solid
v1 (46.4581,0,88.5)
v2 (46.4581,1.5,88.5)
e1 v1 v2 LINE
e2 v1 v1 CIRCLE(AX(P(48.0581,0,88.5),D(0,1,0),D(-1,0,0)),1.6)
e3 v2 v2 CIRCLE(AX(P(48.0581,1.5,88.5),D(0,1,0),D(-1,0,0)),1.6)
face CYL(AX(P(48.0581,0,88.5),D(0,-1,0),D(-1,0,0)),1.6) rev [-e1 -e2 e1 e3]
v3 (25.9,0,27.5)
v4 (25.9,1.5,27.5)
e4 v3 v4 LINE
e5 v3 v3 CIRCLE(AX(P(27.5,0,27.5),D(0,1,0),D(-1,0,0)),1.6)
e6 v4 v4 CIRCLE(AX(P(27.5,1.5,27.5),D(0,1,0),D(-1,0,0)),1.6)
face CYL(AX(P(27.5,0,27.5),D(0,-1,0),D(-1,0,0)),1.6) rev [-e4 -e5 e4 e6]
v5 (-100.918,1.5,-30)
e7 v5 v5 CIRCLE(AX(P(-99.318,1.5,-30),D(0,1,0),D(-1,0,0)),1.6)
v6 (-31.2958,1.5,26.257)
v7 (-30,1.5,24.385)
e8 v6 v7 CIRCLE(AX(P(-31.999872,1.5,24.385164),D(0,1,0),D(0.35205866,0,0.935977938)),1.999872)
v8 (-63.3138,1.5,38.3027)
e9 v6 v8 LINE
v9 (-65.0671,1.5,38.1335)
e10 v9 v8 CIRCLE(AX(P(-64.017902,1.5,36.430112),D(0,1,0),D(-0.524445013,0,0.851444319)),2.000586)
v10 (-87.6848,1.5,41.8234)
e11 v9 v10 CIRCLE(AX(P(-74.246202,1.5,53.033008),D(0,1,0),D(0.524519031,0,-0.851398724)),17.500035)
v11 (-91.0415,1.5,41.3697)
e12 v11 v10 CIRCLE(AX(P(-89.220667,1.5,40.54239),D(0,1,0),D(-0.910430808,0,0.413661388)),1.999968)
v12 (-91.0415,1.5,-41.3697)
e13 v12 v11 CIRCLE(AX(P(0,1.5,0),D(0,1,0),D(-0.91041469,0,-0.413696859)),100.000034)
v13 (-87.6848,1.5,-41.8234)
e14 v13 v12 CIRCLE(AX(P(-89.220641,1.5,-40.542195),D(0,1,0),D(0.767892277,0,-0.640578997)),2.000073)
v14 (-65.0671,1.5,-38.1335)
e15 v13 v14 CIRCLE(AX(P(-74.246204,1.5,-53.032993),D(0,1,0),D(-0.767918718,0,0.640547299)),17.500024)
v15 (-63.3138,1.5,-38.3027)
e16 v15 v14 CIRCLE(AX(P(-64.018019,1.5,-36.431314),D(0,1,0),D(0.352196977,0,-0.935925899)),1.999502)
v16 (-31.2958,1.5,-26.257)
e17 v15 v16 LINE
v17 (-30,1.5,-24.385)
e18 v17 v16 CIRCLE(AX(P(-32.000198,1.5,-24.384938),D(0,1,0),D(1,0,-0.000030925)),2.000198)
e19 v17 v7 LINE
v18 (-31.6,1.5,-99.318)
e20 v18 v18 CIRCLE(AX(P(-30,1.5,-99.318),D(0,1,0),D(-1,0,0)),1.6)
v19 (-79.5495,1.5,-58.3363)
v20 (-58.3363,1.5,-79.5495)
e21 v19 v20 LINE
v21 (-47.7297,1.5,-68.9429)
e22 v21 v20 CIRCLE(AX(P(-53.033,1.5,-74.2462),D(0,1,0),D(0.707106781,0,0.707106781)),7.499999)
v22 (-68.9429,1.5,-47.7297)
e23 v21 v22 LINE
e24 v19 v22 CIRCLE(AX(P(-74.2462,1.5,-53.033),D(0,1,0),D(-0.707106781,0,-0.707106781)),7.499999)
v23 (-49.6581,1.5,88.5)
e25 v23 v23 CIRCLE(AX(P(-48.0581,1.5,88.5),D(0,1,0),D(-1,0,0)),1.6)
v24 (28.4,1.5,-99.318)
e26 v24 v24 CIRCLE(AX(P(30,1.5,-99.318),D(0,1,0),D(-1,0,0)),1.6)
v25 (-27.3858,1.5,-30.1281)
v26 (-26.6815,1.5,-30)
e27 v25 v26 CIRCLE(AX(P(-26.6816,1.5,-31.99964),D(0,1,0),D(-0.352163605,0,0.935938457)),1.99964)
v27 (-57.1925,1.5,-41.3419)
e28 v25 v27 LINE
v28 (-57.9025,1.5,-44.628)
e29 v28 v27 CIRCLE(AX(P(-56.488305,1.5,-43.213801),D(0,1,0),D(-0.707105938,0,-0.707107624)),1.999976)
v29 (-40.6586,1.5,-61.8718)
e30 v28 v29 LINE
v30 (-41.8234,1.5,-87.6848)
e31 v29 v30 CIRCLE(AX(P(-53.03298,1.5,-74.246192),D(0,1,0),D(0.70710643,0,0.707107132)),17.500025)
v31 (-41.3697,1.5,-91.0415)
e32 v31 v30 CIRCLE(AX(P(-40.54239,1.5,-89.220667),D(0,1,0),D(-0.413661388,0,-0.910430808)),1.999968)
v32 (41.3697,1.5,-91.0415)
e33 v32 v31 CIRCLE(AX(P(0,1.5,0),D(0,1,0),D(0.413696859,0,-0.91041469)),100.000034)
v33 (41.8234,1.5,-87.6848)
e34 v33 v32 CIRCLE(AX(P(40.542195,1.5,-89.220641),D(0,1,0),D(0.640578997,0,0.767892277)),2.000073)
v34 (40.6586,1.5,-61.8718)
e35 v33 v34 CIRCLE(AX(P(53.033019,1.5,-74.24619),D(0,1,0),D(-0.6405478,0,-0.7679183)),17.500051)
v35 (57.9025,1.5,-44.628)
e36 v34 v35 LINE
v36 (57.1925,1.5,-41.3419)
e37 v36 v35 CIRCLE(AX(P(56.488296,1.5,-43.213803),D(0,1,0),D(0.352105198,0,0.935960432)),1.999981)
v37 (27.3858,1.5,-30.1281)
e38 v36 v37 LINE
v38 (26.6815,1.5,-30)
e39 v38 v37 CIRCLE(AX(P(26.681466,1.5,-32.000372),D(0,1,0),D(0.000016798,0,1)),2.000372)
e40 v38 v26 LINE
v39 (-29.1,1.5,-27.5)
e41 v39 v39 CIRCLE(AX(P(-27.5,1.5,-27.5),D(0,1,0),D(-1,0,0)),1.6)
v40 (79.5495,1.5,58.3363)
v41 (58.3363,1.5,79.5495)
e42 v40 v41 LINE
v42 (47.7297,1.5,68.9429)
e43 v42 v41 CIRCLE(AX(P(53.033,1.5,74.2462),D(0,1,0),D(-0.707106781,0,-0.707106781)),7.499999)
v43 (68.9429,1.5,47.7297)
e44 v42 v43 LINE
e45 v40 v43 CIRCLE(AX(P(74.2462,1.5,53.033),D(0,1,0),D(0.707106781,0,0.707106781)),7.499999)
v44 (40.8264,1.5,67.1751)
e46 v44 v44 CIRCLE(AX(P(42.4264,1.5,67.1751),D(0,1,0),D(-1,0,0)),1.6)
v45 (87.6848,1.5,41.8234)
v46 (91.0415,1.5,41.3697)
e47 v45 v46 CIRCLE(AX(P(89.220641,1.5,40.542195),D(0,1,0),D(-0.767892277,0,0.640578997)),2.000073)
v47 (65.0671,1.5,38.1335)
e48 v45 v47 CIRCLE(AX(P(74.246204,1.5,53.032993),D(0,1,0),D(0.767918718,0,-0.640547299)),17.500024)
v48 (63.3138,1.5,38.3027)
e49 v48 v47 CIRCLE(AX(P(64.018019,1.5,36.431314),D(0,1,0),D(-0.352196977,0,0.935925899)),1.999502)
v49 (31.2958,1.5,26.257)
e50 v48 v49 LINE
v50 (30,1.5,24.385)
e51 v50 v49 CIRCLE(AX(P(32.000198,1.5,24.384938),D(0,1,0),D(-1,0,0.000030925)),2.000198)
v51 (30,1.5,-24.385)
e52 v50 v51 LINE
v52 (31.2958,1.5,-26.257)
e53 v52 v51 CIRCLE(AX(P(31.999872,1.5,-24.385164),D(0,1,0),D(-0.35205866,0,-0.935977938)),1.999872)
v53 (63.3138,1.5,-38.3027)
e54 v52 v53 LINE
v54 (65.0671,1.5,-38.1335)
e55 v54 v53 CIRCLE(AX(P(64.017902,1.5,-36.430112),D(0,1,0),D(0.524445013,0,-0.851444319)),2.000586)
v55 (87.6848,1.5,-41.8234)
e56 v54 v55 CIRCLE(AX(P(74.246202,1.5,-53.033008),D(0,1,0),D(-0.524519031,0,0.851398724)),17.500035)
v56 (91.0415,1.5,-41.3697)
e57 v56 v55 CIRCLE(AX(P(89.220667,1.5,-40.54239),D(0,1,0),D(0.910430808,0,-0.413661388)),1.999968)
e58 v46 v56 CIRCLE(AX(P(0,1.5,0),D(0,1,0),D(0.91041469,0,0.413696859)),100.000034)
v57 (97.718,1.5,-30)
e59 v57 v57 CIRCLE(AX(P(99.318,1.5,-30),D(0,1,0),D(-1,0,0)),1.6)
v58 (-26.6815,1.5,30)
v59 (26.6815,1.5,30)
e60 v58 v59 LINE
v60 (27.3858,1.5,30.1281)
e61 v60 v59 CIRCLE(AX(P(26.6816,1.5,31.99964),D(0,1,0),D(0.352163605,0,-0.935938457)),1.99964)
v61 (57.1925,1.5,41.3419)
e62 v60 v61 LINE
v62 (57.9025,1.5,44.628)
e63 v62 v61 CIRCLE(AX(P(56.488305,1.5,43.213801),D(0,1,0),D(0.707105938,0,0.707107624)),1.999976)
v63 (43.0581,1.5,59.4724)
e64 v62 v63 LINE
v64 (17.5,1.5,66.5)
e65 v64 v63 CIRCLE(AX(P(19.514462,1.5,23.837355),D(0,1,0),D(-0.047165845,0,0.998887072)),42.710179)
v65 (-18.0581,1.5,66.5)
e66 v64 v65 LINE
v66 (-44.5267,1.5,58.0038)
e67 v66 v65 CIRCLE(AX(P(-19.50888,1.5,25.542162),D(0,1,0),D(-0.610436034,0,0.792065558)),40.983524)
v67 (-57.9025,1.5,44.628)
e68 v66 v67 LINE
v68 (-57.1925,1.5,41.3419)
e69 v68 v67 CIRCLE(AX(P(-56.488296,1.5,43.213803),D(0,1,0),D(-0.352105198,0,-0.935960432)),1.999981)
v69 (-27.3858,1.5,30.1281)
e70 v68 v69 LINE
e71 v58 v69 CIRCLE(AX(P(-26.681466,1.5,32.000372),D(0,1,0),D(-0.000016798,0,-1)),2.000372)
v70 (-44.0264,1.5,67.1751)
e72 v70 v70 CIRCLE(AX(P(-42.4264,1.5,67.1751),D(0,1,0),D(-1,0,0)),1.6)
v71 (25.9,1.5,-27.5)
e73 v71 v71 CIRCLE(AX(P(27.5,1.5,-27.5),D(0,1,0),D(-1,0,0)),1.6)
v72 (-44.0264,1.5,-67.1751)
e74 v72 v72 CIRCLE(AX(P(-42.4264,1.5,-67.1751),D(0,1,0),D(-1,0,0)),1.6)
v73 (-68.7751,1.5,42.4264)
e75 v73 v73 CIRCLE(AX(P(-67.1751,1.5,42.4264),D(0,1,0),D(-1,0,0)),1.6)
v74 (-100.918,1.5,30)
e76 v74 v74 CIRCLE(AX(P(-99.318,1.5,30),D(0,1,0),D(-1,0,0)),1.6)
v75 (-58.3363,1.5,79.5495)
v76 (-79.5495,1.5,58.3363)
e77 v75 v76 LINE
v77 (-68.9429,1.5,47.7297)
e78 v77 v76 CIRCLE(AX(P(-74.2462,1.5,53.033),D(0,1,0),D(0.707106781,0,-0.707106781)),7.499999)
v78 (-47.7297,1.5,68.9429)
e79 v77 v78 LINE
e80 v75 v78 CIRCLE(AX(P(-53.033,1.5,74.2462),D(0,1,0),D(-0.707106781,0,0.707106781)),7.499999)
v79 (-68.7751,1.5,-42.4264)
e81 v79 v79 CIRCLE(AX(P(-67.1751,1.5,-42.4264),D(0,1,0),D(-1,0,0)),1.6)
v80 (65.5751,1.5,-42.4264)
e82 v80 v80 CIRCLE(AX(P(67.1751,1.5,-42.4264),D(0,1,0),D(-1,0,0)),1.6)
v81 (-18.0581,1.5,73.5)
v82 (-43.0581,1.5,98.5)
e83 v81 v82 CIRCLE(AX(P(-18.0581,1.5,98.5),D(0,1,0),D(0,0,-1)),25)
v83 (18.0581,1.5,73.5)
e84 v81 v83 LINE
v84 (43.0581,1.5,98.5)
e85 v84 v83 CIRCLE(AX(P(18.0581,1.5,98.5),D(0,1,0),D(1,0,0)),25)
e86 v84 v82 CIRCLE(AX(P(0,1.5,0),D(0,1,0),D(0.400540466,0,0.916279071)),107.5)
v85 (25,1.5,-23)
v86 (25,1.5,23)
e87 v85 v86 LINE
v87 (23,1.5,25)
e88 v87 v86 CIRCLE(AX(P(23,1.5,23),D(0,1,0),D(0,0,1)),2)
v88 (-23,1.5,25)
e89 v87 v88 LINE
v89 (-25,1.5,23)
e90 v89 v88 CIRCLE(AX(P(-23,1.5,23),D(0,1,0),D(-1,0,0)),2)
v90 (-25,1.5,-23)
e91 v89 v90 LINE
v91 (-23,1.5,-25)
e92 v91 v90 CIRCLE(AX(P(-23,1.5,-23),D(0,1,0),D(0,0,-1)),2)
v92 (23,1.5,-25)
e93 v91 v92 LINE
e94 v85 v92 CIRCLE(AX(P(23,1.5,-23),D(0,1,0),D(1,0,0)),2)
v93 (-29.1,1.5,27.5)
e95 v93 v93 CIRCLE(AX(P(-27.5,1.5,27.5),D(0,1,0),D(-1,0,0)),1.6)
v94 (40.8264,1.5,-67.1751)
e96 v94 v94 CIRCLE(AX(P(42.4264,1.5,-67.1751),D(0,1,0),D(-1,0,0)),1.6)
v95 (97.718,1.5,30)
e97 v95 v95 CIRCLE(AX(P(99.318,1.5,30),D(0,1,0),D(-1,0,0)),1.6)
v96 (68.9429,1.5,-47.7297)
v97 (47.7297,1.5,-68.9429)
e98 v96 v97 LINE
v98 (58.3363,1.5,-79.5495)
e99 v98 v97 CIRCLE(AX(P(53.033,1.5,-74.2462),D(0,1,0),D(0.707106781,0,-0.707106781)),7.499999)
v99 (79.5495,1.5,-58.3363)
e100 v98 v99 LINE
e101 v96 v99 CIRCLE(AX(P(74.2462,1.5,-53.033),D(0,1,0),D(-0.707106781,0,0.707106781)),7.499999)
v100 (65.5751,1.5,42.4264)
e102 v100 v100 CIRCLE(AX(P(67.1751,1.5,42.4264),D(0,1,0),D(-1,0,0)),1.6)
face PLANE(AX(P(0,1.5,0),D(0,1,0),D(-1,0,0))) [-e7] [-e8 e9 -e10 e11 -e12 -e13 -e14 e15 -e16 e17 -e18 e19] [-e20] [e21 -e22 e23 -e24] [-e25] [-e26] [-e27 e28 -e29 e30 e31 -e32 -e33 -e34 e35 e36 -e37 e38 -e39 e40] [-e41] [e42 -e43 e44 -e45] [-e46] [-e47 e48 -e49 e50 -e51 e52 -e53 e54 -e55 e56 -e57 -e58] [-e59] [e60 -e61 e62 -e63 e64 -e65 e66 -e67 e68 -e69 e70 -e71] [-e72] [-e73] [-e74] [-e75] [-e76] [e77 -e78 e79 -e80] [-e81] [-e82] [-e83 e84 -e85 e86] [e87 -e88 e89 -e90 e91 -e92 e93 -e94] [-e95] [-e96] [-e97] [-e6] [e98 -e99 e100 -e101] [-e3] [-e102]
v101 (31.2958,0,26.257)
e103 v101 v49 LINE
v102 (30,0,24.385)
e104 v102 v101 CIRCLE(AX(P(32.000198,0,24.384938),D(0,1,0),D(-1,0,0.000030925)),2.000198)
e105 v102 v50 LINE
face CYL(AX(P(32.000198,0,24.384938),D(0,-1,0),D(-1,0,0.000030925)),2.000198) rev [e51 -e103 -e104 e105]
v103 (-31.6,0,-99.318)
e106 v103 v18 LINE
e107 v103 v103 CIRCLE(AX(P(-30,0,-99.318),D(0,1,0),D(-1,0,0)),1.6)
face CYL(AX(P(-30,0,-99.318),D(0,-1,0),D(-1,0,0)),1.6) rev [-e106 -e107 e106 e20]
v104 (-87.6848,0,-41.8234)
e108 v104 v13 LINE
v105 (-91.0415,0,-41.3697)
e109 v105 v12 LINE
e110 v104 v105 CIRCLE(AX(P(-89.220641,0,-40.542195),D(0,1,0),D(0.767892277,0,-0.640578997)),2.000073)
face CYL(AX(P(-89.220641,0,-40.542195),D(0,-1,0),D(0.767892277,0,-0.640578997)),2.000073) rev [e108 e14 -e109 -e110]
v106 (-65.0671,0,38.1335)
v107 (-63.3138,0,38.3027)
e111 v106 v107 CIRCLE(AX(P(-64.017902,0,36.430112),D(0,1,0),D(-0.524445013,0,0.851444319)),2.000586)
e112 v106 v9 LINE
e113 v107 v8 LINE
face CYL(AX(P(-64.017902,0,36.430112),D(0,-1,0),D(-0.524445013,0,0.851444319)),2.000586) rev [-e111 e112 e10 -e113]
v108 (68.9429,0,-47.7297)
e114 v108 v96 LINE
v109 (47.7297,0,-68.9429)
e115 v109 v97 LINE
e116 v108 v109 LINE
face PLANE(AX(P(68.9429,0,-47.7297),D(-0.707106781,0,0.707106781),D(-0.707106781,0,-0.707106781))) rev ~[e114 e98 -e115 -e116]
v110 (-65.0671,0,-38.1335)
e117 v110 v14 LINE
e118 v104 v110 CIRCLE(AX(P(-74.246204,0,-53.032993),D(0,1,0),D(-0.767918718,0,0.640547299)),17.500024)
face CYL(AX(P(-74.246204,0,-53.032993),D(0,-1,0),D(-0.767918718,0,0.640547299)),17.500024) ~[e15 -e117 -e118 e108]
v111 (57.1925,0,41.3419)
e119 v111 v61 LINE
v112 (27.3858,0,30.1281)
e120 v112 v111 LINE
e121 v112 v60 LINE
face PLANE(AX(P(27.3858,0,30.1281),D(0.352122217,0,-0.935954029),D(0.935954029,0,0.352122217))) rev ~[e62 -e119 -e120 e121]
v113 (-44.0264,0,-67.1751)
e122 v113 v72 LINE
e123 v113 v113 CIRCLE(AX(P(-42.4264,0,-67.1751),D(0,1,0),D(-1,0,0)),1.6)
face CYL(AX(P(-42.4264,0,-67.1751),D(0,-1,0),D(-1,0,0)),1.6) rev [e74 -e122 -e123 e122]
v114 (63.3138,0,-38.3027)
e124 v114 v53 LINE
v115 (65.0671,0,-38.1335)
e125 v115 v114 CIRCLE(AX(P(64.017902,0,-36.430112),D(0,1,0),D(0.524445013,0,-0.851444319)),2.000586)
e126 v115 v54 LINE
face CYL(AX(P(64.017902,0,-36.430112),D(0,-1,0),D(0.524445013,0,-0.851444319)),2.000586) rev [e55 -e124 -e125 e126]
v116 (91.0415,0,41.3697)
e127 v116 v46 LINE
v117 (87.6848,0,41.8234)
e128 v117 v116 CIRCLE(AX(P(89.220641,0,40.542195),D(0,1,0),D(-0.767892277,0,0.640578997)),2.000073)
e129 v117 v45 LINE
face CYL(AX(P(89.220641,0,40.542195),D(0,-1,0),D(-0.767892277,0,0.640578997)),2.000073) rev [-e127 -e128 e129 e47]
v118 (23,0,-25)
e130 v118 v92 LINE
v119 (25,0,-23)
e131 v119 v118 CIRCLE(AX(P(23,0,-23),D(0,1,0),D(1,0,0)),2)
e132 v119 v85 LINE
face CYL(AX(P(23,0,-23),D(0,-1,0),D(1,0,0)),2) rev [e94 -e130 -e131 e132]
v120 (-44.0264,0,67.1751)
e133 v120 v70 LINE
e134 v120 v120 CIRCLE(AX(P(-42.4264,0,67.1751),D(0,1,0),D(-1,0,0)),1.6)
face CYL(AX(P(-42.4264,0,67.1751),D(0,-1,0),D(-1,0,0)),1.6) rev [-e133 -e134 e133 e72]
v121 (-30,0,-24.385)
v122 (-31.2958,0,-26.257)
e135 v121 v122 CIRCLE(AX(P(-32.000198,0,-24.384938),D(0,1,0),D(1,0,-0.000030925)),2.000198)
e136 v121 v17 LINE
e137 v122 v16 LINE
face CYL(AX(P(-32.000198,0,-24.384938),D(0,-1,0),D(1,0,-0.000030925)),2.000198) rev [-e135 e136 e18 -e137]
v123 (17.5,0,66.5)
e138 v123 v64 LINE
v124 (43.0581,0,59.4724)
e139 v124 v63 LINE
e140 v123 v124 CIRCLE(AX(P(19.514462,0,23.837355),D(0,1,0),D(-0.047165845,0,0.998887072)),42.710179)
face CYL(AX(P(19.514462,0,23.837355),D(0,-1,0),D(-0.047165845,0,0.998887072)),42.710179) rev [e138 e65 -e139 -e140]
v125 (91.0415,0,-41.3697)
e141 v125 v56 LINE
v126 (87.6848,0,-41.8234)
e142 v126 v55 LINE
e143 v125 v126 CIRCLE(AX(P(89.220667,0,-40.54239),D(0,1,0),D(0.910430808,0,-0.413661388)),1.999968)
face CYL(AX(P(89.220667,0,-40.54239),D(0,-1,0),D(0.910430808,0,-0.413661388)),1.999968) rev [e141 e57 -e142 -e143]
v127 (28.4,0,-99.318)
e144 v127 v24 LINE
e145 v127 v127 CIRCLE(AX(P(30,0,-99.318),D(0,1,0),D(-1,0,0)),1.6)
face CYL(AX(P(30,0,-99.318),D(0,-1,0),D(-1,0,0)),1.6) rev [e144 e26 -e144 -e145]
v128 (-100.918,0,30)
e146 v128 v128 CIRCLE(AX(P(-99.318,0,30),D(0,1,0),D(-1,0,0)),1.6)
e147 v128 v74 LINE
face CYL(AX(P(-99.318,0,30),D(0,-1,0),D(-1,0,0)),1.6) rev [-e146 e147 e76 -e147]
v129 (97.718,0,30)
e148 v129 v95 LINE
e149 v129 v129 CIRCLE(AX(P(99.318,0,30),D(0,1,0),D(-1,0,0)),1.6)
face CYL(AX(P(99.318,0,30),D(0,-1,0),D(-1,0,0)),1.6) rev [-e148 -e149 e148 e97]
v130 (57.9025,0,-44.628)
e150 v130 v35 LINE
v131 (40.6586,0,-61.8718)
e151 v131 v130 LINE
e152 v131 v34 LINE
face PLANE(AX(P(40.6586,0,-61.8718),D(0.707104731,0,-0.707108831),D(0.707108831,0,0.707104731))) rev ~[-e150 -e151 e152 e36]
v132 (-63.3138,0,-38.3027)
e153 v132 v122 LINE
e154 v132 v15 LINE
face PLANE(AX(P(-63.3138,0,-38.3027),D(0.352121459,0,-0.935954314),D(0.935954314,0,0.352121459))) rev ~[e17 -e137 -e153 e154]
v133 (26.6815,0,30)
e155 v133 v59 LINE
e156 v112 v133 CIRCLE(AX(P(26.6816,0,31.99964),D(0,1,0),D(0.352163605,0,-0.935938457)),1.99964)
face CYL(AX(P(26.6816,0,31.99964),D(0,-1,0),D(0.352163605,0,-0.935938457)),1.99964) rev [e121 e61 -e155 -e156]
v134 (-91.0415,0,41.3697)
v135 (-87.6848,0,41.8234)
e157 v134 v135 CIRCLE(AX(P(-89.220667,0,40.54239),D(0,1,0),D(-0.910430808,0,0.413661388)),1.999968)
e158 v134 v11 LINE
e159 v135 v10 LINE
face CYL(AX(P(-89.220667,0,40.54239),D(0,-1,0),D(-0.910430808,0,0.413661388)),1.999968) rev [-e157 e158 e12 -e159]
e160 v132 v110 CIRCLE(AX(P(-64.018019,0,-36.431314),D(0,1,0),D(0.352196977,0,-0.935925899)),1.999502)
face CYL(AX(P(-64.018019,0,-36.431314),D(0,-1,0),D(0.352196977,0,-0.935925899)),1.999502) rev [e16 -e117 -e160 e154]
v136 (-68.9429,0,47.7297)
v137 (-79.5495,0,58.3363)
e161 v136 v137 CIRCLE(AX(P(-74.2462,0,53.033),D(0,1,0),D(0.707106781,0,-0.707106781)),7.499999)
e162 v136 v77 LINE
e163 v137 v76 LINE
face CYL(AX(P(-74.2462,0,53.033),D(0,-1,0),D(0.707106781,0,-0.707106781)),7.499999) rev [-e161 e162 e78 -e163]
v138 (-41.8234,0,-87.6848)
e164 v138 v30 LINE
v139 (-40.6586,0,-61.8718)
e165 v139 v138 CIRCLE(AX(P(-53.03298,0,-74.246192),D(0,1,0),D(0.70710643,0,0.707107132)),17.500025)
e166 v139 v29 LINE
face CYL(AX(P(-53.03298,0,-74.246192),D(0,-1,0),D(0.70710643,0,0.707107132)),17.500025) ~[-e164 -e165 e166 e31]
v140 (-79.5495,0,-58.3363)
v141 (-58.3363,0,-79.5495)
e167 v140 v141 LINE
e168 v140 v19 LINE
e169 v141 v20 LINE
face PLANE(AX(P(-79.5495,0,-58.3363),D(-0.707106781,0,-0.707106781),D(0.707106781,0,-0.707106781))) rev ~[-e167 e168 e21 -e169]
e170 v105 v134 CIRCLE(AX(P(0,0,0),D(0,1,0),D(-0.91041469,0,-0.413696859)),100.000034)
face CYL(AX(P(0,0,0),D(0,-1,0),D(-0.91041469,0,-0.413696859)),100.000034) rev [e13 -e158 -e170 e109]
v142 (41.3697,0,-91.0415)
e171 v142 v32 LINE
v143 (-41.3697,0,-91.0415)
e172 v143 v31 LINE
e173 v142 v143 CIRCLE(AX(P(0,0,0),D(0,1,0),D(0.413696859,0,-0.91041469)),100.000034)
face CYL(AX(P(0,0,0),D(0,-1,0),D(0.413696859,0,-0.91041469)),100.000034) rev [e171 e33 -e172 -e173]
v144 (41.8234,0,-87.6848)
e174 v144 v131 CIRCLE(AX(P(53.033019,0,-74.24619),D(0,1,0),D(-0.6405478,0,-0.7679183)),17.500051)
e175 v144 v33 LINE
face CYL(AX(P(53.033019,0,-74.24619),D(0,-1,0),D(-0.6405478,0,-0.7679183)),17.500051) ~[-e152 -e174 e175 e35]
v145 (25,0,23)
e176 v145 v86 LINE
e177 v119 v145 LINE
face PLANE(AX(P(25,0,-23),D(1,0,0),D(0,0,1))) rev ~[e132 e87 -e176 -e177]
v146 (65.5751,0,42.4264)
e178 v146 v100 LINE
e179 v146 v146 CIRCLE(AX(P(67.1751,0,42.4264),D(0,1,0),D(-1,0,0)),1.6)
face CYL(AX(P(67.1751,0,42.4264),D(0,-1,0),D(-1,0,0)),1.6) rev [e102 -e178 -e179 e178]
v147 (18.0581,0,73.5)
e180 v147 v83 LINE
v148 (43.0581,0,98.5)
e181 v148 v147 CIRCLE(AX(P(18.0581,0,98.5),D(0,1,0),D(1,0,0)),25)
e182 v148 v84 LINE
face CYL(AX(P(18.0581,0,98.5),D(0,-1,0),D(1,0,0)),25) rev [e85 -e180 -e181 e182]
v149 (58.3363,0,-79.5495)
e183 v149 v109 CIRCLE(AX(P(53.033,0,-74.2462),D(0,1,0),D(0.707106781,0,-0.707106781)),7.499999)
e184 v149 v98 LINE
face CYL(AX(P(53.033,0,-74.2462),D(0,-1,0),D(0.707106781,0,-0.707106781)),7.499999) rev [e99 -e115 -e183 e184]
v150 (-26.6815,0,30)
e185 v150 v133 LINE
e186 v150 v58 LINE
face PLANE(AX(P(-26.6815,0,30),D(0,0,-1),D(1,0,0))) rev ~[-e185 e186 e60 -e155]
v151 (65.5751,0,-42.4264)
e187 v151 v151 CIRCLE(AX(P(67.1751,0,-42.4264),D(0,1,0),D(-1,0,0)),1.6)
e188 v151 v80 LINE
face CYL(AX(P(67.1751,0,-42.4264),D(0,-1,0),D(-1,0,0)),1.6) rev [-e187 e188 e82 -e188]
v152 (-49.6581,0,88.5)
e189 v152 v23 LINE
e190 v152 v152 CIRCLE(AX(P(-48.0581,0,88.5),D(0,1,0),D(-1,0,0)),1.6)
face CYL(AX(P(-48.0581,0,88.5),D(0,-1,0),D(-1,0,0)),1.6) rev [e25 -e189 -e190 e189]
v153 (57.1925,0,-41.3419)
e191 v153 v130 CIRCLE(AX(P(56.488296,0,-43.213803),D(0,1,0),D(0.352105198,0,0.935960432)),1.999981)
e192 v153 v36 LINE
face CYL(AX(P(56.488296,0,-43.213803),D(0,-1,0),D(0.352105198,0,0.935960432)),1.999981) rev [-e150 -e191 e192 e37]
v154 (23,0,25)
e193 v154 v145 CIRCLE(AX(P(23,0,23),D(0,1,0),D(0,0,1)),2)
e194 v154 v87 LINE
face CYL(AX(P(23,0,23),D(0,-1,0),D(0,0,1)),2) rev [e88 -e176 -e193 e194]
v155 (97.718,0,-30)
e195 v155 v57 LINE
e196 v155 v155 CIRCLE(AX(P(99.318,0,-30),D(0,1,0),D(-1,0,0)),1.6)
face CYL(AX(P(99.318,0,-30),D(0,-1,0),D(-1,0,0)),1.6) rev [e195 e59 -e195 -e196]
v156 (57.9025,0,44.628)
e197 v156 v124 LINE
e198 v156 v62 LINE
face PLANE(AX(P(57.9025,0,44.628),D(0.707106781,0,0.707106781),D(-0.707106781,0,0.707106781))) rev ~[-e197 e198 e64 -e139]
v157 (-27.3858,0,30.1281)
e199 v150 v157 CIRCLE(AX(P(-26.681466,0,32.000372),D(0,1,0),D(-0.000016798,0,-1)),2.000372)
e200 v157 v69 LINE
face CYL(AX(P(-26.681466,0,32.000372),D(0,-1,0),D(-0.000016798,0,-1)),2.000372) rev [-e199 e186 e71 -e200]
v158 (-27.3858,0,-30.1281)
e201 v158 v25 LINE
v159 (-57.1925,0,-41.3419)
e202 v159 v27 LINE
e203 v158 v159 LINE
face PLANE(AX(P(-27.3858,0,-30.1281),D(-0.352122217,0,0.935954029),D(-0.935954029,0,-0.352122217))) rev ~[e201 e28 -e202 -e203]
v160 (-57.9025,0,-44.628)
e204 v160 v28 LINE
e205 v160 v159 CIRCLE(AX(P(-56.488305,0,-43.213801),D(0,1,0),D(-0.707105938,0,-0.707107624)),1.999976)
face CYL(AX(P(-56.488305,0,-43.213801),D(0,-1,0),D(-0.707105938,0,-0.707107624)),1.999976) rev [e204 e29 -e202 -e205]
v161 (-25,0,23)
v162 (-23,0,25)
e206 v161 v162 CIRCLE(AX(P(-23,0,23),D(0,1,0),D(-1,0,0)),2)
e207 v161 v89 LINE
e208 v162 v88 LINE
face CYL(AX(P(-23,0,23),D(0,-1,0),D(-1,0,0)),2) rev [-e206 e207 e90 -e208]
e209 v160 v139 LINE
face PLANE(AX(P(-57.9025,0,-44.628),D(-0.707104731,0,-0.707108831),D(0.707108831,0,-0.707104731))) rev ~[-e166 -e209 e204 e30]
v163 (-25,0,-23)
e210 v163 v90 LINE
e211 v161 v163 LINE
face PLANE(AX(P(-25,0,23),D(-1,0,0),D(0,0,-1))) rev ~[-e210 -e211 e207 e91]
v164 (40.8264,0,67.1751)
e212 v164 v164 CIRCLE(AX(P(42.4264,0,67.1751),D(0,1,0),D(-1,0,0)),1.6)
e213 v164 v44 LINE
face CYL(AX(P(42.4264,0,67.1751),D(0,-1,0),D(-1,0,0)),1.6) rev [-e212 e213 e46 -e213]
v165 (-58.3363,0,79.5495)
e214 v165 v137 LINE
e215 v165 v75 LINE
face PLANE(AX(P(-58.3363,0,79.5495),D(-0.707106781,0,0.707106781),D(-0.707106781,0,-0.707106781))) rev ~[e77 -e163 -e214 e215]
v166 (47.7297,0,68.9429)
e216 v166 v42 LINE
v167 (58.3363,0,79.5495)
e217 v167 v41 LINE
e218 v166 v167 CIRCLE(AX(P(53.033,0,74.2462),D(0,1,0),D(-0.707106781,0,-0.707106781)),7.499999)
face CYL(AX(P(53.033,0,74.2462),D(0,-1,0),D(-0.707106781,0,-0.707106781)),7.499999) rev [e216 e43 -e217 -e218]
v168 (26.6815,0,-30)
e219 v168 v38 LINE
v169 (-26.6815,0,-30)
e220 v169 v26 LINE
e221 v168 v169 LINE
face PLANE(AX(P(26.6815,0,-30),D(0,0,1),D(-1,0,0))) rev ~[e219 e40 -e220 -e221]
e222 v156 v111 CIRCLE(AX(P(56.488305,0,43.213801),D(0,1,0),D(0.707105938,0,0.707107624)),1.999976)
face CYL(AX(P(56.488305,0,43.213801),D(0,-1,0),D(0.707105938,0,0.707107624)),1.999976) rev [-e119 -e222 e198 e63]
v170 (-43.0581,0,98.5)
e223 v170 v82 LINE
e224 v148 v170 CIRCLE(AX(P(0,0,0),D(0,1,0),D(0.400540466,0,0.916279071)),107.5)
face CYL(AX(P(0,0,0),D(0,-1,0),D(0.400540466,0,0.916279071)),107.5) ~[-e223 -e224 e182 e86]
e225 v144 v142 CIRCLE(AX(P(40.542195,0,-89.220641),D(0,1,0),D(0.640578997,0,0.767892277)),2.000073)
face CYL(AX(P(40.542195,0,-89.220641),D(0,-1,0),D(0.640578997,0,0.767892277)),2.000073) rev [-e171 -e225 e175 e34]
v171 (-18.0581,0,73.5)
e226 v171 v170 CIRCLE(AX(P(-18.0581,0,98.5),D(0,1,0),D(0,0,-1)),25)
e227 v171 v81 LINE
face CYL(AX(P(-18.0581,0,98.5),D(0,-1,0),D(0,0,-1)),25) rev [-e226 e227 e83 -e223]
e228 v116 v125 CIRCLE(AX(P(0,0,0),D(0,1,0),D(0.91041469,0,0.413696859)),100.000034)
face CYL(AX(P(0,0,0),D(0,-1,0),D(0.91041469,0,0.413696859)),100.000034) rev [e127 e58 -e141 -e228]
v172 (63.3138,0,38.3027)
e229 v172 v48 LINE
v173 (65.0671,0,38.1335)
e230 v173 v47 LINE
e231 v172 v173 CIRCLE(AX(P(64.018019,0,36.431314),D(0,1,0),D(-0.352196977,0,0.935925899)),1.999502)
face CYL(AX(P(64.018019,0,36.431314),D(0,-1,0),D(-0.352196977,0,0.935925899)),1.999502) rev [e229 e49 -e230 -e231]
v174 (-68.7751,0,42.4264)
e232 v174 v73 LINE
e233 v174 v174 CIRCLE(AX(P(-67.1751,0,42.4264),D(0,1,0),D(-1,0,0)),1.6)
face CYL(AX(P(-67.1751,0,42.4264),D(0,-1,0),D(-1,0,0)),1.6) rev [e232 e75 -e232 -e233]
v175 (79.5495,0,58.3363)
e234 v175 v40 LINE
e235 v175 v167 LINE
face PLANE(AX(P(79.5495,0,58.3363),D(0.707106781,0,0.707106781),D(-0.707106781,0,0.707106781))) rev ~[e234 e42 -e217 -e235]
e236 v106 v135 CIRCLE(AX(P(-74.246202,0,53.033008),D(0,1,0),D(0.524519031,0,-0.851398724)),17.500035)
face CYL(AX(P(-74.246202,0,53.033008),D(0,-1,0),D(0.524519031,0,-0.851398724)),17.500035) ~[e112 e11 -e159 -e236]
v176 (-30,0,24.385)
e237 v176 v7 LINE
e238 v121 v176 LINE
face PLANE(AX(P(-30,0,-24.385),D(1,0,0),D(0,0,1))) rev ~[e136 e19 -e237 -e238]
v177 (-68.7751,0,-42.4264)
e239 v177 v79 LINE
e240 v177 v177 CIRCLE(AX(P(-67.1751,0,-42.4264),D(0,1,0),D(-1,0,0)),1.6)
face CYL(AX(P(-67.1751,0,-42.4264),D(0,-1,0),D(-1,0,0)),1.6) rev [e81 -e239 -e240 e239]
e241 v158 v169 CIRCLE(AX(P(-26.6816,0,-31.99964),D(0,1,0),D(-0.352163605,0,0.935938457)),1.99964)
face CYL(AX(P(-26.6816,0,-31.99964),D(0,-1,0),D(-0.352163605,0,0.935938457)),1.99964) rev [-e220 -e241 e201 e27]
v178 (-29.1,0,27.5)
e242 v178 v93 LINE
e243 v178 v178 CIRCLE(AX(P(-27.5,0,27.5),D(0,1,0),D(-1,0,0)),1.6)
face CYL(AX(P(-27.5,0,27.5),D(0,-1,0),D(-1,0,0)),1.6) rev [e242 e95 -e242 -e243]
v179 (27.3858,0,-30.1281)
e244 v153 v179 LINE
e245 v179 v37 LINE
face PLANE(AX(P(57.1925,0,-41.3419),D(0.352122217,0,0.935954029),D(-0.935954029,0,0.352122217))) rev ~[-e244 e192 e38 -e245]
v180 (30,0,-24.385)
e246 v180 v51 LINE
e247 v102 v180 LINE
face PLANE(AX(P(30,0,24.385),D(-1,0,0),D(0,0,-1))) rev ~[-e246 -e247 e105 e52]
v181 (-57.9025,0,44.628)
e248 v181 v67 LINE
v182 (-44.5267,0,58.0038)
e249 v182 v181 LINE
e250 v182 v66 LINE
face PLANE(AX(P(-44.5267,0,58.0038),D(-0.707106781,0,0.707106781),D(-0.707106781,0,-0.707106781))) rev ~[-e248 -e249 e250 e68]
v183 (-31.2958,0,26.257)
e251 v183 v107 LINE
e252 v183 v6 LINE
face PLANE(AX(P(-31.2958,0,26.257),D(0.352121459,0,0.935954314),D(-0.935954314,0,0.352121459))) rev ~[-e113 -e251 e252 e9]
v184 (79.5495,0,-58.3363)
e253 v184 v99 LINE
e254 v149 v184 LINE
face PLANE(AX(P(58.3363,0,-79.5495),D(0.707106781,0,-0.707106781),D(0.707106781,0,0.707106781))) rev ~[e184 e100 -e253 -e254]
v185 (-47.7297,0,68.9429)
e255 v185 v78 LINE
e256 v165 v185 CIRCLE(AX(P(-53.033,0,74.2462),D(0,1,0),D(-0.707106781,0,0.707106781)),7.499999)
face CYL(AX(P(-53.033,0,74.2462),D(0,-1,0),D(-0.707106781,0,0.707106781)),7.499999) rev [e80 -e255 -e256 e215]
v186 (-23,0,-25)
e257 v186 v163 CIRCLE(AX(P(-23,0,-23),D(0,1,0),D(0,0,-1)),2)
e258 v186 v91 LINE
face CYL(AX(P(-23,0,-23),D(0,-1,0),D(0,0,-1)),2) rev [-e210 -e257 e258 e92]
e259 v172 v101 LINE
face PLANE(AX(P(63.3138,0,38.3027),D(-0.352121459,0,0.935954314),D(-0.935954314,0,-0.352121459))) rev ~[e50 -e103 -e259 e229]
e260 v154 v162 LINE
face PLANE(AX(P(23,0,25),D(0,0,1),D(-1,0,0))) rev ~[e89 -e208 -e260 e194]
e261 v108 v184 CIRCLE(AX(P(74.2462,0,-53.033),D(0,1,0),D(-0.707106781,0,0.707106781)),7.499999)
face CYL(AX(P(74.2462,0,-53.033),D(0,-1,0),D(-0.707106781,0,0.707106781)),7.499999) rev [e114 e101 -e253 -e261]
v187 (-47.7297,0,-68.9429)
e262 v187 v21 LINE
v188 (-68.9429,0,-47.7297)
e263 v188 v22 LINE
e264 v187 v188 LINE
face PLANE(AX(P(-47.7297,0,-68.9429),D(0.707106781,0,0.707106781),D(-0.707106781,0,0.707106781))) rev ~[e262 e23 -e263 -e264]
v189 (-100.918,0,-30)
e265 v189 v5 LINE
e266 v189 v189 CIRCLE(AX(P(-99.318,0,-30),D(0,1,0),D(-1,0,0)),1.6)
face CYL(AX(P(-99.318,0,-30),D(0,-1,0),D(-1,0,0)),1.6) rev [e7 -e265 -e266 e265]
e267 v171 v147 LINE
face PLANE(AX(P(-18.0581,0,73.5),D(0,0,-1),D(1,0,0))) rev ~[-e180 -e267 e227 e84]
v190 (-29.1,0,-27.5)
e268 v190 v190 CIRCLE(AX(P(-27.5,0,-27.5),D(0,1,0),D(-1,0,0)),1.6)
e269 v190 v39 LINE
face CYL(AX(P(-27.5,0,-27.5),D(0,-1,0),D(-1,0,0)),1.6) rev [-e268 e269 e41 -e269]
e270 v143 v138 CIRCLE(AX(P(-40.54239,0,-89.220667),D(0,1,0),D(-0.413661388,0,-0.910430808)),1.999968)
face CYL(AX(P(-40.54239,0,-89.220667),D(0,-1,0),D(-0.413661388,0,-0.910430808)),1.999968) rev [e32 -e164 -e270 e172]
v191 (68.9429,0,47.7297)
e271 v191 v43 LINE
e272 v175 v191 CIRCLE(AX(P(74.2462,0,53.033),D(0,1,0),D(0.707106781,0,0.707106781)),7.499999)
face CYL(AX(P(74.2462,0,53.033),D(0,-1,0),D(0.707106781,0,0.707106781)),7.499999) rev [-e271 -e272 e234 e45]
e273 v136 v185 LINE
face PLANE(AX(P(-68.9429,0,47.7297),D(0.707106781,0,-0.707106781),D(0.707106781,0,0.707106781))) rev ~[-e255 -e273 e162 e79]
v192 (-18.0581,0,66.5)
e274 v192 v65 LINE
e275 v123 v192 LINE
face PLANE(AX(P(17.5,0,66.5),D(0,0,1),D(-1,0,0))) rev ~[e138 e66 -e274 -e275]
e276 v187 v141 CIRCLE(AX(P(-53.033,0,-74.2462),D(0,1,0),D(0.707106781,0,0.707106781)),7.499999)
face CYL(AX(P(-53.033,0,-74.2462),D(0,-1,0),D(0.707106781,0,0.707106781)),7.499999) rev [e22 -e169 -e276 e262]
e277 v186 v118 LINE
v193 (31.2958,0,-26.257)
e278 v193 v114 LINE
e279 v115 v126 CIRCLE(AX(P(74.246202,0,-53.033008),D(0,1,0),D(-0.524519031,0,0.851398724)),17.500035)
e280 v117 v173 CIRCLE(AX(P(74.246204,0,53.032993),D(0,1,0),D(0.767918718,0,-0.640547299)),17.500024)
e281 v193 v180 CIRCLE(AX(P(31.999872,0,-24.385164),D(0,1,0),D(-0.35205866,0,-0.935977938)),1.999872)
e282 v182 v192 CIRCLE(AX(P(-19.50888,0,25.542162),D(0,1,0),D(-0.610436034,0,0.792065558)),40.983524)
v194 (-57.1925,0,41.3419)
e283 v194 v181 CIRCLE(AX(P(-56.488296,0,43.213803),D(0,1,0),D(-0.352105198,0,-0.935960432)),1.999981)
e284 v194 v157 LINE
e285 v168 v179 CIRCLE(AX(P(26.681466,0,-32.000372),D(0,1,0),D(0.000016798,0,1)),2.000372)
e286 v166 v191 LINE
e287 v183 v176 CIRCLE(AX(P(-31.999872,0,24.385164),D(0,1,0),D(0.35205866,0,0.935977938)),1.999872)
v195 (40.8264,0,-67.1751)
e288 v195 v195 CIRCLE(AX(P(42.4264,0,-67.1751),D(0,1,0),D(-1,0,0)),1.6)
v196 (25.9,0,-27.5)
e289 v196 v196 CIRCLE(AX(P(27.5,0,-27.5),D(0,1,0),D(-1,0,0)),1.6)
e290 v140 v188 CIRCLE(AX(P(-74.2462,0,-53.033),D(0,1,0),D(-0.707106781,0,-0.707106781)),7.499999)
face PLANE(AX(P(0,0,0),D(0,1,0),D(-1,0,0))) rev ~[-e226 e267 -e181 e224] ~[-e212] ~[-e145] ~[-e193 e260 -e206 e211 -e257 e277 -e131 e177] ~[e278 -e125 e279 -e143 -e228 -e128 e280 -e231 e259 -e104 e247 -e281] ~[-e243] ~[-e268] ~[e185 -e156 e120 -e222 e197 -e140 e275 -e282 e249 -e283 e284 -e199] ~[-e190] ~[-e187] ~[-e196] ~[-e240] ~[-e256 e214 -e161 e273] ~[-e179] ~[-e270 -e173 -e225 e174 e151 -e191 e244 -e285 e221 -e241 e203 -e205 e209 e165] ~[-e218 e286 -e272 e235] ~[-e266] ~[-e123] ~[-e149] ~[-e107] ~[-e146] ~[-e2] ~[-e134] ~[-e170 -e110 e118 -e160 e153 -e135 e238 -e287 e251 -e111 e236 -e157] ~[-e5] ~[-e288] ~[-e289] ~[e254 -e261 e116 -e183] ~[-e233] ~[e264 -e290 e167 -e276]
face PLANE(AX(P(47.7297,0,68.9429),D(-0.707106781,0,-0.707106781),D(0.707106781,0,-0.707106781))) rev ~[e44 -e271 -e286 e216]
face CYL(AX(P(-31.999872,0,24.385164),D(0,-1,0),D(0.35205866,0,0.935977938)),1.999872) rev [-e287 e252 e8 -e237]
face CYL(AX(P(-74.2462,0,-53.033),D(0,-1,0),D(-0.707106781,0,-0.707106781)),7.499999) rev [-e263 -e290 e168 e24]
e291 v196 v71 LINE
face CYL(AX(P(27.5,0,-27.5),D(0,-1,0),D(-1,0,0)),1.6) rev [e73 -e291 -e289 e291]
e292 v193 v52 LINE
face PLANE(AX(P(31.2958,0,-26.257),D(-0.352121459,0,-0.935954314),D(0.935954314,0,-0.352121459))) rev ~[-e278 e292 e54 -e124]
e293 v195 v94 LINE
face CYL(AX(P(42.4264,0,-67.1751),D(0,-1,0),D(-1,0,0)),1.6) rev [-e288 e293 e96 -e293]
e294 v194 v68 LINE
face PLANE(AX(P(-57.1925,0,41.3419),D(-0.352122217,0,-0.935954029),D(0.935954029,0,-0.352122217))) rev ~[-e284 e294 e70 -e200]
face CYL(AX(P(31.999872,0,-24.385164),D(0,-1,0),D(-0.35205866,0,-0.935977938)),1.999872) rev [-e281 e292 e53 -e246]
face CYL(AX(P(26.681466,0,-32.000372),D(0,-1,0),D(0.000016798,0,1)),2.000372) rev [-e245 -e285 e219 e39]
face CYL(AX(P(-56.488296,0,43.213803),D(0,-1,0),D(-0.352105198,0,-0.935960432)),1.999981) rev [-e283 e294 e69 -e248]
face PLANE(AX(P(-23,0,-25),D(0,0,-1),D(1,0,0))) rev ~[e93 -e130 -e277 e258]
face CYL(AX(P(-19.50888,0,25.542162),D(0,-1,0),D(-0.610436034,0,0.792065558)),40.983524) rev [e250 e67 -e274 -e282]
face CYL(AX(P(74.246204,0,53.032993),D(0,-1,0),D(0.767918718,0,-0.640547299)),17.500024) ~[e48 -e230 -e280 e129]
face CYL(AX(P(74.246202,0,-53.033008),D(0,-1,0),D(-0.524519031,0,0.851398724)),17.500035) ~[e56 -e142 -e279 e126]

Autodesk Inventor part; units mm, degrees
ref_plane "YZ Plane" through (0, 0, 0) normal (1, 0, 0) x (0, 1, 0)
ref_plane "XZ Plane" through (0, 0, 0) normal (0, 1, 0) x (-1, 0, 0)
ref_plane "XY Plane" through (0, 0, 0) normal (0, 0, 1) x (1, 0, 0)
sketch "Sketch1" plane through (0, 0, 0) normal (0, 1, 0) x (-1, 0, 0)
  line L0 (-57.9025, 44.628) -> (-43.0581, 59.4724)
  arc A0 (-17.5, 66.5) -> (-43.0581, 59.4724) centre (-19.5145, 23.8377) ccw
  line L1 (-17.5, 66.5) -> (18.0581, 66.5)
  arc A1 (44.5267, 58.0038) -> (18.0581, 66.5) centre (19.5089, 25.5422) ccw
  line L2 (44.5267, 58.0038) -> (57.9025, 44.628)
  arc A2 (57.1925, 41.3419) -> (57.9025, 44.628) centre (56.4883, 43.2138) ccw
  line L3 (57.1925, 41.3419) -> (27.3858, 30.1281)
  arc A3 (26.6815, 30) -> (27.3858, 30.1281) centre (26.6815, 32) ccw
  line L4 (26.6815, 30) -> (-26.6815, 30)
  arc A4 (-27.3858, 30.1281) -> (-26.6815, 30) centre (-26.6815, 32) ccw
  line L5 (-27.3858, 30.1281) -> (-57.1925, 41.3419)
  arc A5 (-57.9025, 44.628) -> (-57.1925, 41.3419) centre (-56.4883, 43.2138) ccw
  line L6 (-63.3138, 38.3027) -> (-31.2958, 26.257)
  arc A6 (-30, 24.385) -> (-31.2958, 26.257) centre (-32, 24.385) ccw
  line L7 (-30, 24.385) -> (-30, -24.385)
  arc A7 (-31.2958, -26.257) -> (-30, -24.385) centre (-32, -24.385) ccw
  line L8 (-31.2958, -26.257) -> (-63.3138, -38.3027)
  arc A8 (-65.0671, -38.1335) -> (-63.3138, -38.3027) centre (-64.0181, -36.4307) ccw
  arc A9 (-65.0671, -38.1335) -> (-87.6848, -41.8234) centre (-74.2462, -53.033) ccw
  arc A10 (-91.0415, -41.3697) -> (-87.6848, -41.8234) centre (-89.2206, -40.5423) ccw
  arc A11 (-91.0415, 41.3697) -> (-91.0415, -41.3697) centre (0, 0) ccw
  arc A12 (-87.6848, 41.8234) -> (-91.0415, 41.3697) centre (-89.2206, 40.5423) ccw
  arc A13 (-87.6848, 41.8234) -> (-65.0671, 38.1335) centre (-74.2462, 53.033) ccw
  arc A14 (-63.3138, 38.3027) -> (-65.0671, 38.1335) centre (-64.0181, 36.4307) ccw
  line L9 (-57.1925, -41.3419) -> (-27.3858, -30.1281)
  arc A15 (-26.6815, -30) -> (-27.3858, -30.1281) centre (-26.6815, -32) ccw
  line L10 (-26.6815, -30) -> (26.6815, -30)
  arc A16 (27.3858, -30.1281) -> (26.6815, -30) centre (26.6815, -32) ccw
  line L11 (27.3858, -30.1281) -> (57.1925, -41.3419)
  arc A17 (57.9025, -44.628) -> (57.1925, -41.3419) centre (56.4883, -43.2138) ccw
  line L12 (57.9025, -44.628) -> (40.6586, -61.8718)
  arc A18 (40.6586, -61.8718) -> (41.8234, -87.6848) centre (53.033, -74.2462) ccw
  arc A19 (41.3697, -91.0415) -> (41.8234, -87.6848) centre (40.5423, -89.2206) ccw
  arc A20 (-41.3697, -91.0415) -> (41.3697, -91.0415) centre (0, 0) ccw
  arc A21 (-41.8234, -87.6848) -> (-41.3697, -91.0415) centre (-40.5423, -89.2206) ccw
  arc A22 (-41.8234, -87.6848) -> (-40.6586, -61.8718) centre (-53.033, -74.2462) ccw
  line L13 (-40.6586, -61.8718) -> (-57.9025, -44.628)
  arc A23 (-57.1925, -41.3419) -> (-57.9025, -44.628) centre (-56.4883, -43.2138) ccw
  line L14 (23, -25) -> (-23, -25)
  arc A24 (-25, -23) -> (-23, -25) centre (-23, -23) ccw
  line L15 (-25, -23) -> (-25, 23)
  arc A25 (-23, 25) -> (-25, 23) centre (-23, 23) ccw
  line L16 (-23, 25) -> (23, 25)
  arc A26 (25, 23) -> (23, 25) centre (23, 23) ccw
  line L17 (25, 23) -> (25, -23)
  arc A27 (23, -25) -> (25, -23) centre (23, -23) ccw
  line L18 (63.3138, -38.3027) -> (31.2958, -26.257)
  arc A28 (30, -24.385) -> (31.2958, -26.257) centre (32, -24.385) ccw
  line L19 (30, -24.385) -> (30, 24.385)
  arc A29 (31.2958, 26.257) -> (30, 24.385) centre (32, 24.385) ccw
  line L20 (31.2958, 26.257) -> (63.3138, 38.3027)
  arc A30 (65.0671, 38.1335) -> (63.3138, 38.3027) centre (64.0181, 36.4307) ccw
  arc A31 (65.0671, 38.1335) -> (87.6848, 41.8234) centre (74.2462, 53.033) ccw
  arc A32 (91.0415, 41.3697) -> (87.6848, 41.8234) centre (89.2206, 40.5423) ccw
  arc A33 (91.0415, -41.3697) -> (91.0415, 41.3697) centre (0, 0) ccw
  arc A34 (87.6848, -41.8234) -> (91.0415, -41.3697) centre (89.2206, -40.5423) ccw
  arc A35 (87.6848, -41.8234) -> (65.0671, -38.1335) centre (74.2462, -53.033) ccw
  arc A36 (63.3138, -38.3027) -> (65.0671, -38.1335) centre (64.0181, -36.4307) ccw
  arc A37 (-43.0581, 98.5) -> (-18.0581, 73.5) centre (-18.0581, 98.5) ccw
  arc A38 (-43.0581, 98.5) -> (43.0581, 98.5) centre (0, 0) ccw
  arc A39 (18.0581, 73.5) -> (43.0581, 98.5) centre (18.0581, 98.5) ccw
  line L21 (18.0581, 73.5) -> (-18.0581, 73.5)
  arc A40 (-68.9429, -47.7297) -> (-79.5495, -58.3363) centre (-74.2462, -53.033) ccw
  line L22 (-68.9429, -47.7297) -> (-47.7297, -68.9429)
  arc A41 (-58.3363, -79.5495) -> (-47.7297, -68.9429) centre (-53.033, -74.2462) ccw
  line L23 (-58.3363, -79.5495) -> (-79.5495, -58.3363)
  arc A42 (-47.7297, 68.9429) -> (-58.3363, 79.5495) centre (-53.033, 74.2462) ccw
  line L24 (-47.7297, 68.9429) -> (-68.9429, 47.7297)
  arc A43 (-79.5495, 58.3363) -> (-68.9429, 47.7297) centre (-74.2462, 53.033) ccw
  line L25 (-79.5495, 58.3363) -> (-58.3363, 79.5495)
  arc A44 (68.9429, 47.7297) -> (79.5495, 58.3363) centre (74.2462, 53.033) ccw
  line L26 (68.9429, 47.7297) -> (47.7297, 68.9429)
  arc A45 (58.3363, 79.5495) -> (47.7297, 68.9429) centre (53.033, 74.2462) ccw
  line L27 (58.3363, 79.5495) -> (79.5495, 58.3363)
  arc A46 (47.7297, -68.9429) -> (58.3363, -79.5495) centre (53.033, -74.2462) ccw
  line L28 (47.7297, -68.9429) -> (68.9429, -47.7297)
  arc A47 (79.5495, -58.3363) -> (68.9429, -47.7297) centre (74.2462, -53.033) ccw
  line L29 (79.5495, -58.3363) -> (58.3363, -79.5495)
  circle A48 centre (-27.5, 27.5) radius 1.6
  circle A49 centre (27.5, 27.5) radius 1.6
  circle A50 centre (-27.5, -27.5) radius 1.6
  circle A51 centre (27.5, -27.5) radius 1.6
  circle A52 centre (-67.1751, 42.4264) radius 1.6
  circle A53 centre (-67.1751, -42.4264) radius 1.6
  circle A54 centre (67.1751, -42.4264) radius 1.6
  circle A55 centre (67.1751, 42.4264) radius 1.6
  circle A56 centre (30, -99.318) radius 1.6
  circle A57 centre (-99.318, 30) radius 1.6
  circle A58 centre (99.318, 30) radius 1.6
  circle A59 centre (-30, -99.318) radius 1.6
  circle A60 centre (-99.318, -30) radius 1.6
  circle A61 centre (99.318, -30) radius 1.6
  circle A62 centre (48.0581, 88.5) radius 1.6
  circle A63 centre (-48.0581, 88.5) radius 1.6
  circle A64 centre (-42.4264, -67.1751) radius 1.6
  circle A65 centre (-42.4264, 67.1751) radius 1.6
  circle A66 centre (42.4264, 67.1751) radius 1.6
  circle A67 centre (42.4264, -67.1751) radius 1.6
  point P0 (-18.0581, 73.5)
  point P1 (-43.0581, 98.5)
  point P2 (43.0581, 98.5)
  point P3 (-79.5495, -58.3363)
  point P4 (58.3363, 79.5495)
  point P5 (-68.9429, 47.7297)
  point P6 (-79.5495, 58.3363)
  point P7 (65.0671, 38.1335)
  point P8 (91.0415, 41.3697)
  point P9 (91.0415, -41.3697)
  point P10 (31.2958, -26.257)
  point P11 (30, -24.385)
  point P12 (-65.0671, -38.1335)
  point P13 (-91.0415, 41.3697)
  point P14 (-65.0671, 38.1335)
  point P15 (-31.2958, 26.257)
  point P16 (57.9025, -44.628)
  point P17 (41.3697, -91.0415)
  point P18 (-25, -23)
  point P19 (26.6815, 30)
extrude "Extrusion1" add sketch "Sketch1" along normal blind 1.5
properties part number "TopCarbonRing-WithoutClosure" material "Aluminum 6061"
